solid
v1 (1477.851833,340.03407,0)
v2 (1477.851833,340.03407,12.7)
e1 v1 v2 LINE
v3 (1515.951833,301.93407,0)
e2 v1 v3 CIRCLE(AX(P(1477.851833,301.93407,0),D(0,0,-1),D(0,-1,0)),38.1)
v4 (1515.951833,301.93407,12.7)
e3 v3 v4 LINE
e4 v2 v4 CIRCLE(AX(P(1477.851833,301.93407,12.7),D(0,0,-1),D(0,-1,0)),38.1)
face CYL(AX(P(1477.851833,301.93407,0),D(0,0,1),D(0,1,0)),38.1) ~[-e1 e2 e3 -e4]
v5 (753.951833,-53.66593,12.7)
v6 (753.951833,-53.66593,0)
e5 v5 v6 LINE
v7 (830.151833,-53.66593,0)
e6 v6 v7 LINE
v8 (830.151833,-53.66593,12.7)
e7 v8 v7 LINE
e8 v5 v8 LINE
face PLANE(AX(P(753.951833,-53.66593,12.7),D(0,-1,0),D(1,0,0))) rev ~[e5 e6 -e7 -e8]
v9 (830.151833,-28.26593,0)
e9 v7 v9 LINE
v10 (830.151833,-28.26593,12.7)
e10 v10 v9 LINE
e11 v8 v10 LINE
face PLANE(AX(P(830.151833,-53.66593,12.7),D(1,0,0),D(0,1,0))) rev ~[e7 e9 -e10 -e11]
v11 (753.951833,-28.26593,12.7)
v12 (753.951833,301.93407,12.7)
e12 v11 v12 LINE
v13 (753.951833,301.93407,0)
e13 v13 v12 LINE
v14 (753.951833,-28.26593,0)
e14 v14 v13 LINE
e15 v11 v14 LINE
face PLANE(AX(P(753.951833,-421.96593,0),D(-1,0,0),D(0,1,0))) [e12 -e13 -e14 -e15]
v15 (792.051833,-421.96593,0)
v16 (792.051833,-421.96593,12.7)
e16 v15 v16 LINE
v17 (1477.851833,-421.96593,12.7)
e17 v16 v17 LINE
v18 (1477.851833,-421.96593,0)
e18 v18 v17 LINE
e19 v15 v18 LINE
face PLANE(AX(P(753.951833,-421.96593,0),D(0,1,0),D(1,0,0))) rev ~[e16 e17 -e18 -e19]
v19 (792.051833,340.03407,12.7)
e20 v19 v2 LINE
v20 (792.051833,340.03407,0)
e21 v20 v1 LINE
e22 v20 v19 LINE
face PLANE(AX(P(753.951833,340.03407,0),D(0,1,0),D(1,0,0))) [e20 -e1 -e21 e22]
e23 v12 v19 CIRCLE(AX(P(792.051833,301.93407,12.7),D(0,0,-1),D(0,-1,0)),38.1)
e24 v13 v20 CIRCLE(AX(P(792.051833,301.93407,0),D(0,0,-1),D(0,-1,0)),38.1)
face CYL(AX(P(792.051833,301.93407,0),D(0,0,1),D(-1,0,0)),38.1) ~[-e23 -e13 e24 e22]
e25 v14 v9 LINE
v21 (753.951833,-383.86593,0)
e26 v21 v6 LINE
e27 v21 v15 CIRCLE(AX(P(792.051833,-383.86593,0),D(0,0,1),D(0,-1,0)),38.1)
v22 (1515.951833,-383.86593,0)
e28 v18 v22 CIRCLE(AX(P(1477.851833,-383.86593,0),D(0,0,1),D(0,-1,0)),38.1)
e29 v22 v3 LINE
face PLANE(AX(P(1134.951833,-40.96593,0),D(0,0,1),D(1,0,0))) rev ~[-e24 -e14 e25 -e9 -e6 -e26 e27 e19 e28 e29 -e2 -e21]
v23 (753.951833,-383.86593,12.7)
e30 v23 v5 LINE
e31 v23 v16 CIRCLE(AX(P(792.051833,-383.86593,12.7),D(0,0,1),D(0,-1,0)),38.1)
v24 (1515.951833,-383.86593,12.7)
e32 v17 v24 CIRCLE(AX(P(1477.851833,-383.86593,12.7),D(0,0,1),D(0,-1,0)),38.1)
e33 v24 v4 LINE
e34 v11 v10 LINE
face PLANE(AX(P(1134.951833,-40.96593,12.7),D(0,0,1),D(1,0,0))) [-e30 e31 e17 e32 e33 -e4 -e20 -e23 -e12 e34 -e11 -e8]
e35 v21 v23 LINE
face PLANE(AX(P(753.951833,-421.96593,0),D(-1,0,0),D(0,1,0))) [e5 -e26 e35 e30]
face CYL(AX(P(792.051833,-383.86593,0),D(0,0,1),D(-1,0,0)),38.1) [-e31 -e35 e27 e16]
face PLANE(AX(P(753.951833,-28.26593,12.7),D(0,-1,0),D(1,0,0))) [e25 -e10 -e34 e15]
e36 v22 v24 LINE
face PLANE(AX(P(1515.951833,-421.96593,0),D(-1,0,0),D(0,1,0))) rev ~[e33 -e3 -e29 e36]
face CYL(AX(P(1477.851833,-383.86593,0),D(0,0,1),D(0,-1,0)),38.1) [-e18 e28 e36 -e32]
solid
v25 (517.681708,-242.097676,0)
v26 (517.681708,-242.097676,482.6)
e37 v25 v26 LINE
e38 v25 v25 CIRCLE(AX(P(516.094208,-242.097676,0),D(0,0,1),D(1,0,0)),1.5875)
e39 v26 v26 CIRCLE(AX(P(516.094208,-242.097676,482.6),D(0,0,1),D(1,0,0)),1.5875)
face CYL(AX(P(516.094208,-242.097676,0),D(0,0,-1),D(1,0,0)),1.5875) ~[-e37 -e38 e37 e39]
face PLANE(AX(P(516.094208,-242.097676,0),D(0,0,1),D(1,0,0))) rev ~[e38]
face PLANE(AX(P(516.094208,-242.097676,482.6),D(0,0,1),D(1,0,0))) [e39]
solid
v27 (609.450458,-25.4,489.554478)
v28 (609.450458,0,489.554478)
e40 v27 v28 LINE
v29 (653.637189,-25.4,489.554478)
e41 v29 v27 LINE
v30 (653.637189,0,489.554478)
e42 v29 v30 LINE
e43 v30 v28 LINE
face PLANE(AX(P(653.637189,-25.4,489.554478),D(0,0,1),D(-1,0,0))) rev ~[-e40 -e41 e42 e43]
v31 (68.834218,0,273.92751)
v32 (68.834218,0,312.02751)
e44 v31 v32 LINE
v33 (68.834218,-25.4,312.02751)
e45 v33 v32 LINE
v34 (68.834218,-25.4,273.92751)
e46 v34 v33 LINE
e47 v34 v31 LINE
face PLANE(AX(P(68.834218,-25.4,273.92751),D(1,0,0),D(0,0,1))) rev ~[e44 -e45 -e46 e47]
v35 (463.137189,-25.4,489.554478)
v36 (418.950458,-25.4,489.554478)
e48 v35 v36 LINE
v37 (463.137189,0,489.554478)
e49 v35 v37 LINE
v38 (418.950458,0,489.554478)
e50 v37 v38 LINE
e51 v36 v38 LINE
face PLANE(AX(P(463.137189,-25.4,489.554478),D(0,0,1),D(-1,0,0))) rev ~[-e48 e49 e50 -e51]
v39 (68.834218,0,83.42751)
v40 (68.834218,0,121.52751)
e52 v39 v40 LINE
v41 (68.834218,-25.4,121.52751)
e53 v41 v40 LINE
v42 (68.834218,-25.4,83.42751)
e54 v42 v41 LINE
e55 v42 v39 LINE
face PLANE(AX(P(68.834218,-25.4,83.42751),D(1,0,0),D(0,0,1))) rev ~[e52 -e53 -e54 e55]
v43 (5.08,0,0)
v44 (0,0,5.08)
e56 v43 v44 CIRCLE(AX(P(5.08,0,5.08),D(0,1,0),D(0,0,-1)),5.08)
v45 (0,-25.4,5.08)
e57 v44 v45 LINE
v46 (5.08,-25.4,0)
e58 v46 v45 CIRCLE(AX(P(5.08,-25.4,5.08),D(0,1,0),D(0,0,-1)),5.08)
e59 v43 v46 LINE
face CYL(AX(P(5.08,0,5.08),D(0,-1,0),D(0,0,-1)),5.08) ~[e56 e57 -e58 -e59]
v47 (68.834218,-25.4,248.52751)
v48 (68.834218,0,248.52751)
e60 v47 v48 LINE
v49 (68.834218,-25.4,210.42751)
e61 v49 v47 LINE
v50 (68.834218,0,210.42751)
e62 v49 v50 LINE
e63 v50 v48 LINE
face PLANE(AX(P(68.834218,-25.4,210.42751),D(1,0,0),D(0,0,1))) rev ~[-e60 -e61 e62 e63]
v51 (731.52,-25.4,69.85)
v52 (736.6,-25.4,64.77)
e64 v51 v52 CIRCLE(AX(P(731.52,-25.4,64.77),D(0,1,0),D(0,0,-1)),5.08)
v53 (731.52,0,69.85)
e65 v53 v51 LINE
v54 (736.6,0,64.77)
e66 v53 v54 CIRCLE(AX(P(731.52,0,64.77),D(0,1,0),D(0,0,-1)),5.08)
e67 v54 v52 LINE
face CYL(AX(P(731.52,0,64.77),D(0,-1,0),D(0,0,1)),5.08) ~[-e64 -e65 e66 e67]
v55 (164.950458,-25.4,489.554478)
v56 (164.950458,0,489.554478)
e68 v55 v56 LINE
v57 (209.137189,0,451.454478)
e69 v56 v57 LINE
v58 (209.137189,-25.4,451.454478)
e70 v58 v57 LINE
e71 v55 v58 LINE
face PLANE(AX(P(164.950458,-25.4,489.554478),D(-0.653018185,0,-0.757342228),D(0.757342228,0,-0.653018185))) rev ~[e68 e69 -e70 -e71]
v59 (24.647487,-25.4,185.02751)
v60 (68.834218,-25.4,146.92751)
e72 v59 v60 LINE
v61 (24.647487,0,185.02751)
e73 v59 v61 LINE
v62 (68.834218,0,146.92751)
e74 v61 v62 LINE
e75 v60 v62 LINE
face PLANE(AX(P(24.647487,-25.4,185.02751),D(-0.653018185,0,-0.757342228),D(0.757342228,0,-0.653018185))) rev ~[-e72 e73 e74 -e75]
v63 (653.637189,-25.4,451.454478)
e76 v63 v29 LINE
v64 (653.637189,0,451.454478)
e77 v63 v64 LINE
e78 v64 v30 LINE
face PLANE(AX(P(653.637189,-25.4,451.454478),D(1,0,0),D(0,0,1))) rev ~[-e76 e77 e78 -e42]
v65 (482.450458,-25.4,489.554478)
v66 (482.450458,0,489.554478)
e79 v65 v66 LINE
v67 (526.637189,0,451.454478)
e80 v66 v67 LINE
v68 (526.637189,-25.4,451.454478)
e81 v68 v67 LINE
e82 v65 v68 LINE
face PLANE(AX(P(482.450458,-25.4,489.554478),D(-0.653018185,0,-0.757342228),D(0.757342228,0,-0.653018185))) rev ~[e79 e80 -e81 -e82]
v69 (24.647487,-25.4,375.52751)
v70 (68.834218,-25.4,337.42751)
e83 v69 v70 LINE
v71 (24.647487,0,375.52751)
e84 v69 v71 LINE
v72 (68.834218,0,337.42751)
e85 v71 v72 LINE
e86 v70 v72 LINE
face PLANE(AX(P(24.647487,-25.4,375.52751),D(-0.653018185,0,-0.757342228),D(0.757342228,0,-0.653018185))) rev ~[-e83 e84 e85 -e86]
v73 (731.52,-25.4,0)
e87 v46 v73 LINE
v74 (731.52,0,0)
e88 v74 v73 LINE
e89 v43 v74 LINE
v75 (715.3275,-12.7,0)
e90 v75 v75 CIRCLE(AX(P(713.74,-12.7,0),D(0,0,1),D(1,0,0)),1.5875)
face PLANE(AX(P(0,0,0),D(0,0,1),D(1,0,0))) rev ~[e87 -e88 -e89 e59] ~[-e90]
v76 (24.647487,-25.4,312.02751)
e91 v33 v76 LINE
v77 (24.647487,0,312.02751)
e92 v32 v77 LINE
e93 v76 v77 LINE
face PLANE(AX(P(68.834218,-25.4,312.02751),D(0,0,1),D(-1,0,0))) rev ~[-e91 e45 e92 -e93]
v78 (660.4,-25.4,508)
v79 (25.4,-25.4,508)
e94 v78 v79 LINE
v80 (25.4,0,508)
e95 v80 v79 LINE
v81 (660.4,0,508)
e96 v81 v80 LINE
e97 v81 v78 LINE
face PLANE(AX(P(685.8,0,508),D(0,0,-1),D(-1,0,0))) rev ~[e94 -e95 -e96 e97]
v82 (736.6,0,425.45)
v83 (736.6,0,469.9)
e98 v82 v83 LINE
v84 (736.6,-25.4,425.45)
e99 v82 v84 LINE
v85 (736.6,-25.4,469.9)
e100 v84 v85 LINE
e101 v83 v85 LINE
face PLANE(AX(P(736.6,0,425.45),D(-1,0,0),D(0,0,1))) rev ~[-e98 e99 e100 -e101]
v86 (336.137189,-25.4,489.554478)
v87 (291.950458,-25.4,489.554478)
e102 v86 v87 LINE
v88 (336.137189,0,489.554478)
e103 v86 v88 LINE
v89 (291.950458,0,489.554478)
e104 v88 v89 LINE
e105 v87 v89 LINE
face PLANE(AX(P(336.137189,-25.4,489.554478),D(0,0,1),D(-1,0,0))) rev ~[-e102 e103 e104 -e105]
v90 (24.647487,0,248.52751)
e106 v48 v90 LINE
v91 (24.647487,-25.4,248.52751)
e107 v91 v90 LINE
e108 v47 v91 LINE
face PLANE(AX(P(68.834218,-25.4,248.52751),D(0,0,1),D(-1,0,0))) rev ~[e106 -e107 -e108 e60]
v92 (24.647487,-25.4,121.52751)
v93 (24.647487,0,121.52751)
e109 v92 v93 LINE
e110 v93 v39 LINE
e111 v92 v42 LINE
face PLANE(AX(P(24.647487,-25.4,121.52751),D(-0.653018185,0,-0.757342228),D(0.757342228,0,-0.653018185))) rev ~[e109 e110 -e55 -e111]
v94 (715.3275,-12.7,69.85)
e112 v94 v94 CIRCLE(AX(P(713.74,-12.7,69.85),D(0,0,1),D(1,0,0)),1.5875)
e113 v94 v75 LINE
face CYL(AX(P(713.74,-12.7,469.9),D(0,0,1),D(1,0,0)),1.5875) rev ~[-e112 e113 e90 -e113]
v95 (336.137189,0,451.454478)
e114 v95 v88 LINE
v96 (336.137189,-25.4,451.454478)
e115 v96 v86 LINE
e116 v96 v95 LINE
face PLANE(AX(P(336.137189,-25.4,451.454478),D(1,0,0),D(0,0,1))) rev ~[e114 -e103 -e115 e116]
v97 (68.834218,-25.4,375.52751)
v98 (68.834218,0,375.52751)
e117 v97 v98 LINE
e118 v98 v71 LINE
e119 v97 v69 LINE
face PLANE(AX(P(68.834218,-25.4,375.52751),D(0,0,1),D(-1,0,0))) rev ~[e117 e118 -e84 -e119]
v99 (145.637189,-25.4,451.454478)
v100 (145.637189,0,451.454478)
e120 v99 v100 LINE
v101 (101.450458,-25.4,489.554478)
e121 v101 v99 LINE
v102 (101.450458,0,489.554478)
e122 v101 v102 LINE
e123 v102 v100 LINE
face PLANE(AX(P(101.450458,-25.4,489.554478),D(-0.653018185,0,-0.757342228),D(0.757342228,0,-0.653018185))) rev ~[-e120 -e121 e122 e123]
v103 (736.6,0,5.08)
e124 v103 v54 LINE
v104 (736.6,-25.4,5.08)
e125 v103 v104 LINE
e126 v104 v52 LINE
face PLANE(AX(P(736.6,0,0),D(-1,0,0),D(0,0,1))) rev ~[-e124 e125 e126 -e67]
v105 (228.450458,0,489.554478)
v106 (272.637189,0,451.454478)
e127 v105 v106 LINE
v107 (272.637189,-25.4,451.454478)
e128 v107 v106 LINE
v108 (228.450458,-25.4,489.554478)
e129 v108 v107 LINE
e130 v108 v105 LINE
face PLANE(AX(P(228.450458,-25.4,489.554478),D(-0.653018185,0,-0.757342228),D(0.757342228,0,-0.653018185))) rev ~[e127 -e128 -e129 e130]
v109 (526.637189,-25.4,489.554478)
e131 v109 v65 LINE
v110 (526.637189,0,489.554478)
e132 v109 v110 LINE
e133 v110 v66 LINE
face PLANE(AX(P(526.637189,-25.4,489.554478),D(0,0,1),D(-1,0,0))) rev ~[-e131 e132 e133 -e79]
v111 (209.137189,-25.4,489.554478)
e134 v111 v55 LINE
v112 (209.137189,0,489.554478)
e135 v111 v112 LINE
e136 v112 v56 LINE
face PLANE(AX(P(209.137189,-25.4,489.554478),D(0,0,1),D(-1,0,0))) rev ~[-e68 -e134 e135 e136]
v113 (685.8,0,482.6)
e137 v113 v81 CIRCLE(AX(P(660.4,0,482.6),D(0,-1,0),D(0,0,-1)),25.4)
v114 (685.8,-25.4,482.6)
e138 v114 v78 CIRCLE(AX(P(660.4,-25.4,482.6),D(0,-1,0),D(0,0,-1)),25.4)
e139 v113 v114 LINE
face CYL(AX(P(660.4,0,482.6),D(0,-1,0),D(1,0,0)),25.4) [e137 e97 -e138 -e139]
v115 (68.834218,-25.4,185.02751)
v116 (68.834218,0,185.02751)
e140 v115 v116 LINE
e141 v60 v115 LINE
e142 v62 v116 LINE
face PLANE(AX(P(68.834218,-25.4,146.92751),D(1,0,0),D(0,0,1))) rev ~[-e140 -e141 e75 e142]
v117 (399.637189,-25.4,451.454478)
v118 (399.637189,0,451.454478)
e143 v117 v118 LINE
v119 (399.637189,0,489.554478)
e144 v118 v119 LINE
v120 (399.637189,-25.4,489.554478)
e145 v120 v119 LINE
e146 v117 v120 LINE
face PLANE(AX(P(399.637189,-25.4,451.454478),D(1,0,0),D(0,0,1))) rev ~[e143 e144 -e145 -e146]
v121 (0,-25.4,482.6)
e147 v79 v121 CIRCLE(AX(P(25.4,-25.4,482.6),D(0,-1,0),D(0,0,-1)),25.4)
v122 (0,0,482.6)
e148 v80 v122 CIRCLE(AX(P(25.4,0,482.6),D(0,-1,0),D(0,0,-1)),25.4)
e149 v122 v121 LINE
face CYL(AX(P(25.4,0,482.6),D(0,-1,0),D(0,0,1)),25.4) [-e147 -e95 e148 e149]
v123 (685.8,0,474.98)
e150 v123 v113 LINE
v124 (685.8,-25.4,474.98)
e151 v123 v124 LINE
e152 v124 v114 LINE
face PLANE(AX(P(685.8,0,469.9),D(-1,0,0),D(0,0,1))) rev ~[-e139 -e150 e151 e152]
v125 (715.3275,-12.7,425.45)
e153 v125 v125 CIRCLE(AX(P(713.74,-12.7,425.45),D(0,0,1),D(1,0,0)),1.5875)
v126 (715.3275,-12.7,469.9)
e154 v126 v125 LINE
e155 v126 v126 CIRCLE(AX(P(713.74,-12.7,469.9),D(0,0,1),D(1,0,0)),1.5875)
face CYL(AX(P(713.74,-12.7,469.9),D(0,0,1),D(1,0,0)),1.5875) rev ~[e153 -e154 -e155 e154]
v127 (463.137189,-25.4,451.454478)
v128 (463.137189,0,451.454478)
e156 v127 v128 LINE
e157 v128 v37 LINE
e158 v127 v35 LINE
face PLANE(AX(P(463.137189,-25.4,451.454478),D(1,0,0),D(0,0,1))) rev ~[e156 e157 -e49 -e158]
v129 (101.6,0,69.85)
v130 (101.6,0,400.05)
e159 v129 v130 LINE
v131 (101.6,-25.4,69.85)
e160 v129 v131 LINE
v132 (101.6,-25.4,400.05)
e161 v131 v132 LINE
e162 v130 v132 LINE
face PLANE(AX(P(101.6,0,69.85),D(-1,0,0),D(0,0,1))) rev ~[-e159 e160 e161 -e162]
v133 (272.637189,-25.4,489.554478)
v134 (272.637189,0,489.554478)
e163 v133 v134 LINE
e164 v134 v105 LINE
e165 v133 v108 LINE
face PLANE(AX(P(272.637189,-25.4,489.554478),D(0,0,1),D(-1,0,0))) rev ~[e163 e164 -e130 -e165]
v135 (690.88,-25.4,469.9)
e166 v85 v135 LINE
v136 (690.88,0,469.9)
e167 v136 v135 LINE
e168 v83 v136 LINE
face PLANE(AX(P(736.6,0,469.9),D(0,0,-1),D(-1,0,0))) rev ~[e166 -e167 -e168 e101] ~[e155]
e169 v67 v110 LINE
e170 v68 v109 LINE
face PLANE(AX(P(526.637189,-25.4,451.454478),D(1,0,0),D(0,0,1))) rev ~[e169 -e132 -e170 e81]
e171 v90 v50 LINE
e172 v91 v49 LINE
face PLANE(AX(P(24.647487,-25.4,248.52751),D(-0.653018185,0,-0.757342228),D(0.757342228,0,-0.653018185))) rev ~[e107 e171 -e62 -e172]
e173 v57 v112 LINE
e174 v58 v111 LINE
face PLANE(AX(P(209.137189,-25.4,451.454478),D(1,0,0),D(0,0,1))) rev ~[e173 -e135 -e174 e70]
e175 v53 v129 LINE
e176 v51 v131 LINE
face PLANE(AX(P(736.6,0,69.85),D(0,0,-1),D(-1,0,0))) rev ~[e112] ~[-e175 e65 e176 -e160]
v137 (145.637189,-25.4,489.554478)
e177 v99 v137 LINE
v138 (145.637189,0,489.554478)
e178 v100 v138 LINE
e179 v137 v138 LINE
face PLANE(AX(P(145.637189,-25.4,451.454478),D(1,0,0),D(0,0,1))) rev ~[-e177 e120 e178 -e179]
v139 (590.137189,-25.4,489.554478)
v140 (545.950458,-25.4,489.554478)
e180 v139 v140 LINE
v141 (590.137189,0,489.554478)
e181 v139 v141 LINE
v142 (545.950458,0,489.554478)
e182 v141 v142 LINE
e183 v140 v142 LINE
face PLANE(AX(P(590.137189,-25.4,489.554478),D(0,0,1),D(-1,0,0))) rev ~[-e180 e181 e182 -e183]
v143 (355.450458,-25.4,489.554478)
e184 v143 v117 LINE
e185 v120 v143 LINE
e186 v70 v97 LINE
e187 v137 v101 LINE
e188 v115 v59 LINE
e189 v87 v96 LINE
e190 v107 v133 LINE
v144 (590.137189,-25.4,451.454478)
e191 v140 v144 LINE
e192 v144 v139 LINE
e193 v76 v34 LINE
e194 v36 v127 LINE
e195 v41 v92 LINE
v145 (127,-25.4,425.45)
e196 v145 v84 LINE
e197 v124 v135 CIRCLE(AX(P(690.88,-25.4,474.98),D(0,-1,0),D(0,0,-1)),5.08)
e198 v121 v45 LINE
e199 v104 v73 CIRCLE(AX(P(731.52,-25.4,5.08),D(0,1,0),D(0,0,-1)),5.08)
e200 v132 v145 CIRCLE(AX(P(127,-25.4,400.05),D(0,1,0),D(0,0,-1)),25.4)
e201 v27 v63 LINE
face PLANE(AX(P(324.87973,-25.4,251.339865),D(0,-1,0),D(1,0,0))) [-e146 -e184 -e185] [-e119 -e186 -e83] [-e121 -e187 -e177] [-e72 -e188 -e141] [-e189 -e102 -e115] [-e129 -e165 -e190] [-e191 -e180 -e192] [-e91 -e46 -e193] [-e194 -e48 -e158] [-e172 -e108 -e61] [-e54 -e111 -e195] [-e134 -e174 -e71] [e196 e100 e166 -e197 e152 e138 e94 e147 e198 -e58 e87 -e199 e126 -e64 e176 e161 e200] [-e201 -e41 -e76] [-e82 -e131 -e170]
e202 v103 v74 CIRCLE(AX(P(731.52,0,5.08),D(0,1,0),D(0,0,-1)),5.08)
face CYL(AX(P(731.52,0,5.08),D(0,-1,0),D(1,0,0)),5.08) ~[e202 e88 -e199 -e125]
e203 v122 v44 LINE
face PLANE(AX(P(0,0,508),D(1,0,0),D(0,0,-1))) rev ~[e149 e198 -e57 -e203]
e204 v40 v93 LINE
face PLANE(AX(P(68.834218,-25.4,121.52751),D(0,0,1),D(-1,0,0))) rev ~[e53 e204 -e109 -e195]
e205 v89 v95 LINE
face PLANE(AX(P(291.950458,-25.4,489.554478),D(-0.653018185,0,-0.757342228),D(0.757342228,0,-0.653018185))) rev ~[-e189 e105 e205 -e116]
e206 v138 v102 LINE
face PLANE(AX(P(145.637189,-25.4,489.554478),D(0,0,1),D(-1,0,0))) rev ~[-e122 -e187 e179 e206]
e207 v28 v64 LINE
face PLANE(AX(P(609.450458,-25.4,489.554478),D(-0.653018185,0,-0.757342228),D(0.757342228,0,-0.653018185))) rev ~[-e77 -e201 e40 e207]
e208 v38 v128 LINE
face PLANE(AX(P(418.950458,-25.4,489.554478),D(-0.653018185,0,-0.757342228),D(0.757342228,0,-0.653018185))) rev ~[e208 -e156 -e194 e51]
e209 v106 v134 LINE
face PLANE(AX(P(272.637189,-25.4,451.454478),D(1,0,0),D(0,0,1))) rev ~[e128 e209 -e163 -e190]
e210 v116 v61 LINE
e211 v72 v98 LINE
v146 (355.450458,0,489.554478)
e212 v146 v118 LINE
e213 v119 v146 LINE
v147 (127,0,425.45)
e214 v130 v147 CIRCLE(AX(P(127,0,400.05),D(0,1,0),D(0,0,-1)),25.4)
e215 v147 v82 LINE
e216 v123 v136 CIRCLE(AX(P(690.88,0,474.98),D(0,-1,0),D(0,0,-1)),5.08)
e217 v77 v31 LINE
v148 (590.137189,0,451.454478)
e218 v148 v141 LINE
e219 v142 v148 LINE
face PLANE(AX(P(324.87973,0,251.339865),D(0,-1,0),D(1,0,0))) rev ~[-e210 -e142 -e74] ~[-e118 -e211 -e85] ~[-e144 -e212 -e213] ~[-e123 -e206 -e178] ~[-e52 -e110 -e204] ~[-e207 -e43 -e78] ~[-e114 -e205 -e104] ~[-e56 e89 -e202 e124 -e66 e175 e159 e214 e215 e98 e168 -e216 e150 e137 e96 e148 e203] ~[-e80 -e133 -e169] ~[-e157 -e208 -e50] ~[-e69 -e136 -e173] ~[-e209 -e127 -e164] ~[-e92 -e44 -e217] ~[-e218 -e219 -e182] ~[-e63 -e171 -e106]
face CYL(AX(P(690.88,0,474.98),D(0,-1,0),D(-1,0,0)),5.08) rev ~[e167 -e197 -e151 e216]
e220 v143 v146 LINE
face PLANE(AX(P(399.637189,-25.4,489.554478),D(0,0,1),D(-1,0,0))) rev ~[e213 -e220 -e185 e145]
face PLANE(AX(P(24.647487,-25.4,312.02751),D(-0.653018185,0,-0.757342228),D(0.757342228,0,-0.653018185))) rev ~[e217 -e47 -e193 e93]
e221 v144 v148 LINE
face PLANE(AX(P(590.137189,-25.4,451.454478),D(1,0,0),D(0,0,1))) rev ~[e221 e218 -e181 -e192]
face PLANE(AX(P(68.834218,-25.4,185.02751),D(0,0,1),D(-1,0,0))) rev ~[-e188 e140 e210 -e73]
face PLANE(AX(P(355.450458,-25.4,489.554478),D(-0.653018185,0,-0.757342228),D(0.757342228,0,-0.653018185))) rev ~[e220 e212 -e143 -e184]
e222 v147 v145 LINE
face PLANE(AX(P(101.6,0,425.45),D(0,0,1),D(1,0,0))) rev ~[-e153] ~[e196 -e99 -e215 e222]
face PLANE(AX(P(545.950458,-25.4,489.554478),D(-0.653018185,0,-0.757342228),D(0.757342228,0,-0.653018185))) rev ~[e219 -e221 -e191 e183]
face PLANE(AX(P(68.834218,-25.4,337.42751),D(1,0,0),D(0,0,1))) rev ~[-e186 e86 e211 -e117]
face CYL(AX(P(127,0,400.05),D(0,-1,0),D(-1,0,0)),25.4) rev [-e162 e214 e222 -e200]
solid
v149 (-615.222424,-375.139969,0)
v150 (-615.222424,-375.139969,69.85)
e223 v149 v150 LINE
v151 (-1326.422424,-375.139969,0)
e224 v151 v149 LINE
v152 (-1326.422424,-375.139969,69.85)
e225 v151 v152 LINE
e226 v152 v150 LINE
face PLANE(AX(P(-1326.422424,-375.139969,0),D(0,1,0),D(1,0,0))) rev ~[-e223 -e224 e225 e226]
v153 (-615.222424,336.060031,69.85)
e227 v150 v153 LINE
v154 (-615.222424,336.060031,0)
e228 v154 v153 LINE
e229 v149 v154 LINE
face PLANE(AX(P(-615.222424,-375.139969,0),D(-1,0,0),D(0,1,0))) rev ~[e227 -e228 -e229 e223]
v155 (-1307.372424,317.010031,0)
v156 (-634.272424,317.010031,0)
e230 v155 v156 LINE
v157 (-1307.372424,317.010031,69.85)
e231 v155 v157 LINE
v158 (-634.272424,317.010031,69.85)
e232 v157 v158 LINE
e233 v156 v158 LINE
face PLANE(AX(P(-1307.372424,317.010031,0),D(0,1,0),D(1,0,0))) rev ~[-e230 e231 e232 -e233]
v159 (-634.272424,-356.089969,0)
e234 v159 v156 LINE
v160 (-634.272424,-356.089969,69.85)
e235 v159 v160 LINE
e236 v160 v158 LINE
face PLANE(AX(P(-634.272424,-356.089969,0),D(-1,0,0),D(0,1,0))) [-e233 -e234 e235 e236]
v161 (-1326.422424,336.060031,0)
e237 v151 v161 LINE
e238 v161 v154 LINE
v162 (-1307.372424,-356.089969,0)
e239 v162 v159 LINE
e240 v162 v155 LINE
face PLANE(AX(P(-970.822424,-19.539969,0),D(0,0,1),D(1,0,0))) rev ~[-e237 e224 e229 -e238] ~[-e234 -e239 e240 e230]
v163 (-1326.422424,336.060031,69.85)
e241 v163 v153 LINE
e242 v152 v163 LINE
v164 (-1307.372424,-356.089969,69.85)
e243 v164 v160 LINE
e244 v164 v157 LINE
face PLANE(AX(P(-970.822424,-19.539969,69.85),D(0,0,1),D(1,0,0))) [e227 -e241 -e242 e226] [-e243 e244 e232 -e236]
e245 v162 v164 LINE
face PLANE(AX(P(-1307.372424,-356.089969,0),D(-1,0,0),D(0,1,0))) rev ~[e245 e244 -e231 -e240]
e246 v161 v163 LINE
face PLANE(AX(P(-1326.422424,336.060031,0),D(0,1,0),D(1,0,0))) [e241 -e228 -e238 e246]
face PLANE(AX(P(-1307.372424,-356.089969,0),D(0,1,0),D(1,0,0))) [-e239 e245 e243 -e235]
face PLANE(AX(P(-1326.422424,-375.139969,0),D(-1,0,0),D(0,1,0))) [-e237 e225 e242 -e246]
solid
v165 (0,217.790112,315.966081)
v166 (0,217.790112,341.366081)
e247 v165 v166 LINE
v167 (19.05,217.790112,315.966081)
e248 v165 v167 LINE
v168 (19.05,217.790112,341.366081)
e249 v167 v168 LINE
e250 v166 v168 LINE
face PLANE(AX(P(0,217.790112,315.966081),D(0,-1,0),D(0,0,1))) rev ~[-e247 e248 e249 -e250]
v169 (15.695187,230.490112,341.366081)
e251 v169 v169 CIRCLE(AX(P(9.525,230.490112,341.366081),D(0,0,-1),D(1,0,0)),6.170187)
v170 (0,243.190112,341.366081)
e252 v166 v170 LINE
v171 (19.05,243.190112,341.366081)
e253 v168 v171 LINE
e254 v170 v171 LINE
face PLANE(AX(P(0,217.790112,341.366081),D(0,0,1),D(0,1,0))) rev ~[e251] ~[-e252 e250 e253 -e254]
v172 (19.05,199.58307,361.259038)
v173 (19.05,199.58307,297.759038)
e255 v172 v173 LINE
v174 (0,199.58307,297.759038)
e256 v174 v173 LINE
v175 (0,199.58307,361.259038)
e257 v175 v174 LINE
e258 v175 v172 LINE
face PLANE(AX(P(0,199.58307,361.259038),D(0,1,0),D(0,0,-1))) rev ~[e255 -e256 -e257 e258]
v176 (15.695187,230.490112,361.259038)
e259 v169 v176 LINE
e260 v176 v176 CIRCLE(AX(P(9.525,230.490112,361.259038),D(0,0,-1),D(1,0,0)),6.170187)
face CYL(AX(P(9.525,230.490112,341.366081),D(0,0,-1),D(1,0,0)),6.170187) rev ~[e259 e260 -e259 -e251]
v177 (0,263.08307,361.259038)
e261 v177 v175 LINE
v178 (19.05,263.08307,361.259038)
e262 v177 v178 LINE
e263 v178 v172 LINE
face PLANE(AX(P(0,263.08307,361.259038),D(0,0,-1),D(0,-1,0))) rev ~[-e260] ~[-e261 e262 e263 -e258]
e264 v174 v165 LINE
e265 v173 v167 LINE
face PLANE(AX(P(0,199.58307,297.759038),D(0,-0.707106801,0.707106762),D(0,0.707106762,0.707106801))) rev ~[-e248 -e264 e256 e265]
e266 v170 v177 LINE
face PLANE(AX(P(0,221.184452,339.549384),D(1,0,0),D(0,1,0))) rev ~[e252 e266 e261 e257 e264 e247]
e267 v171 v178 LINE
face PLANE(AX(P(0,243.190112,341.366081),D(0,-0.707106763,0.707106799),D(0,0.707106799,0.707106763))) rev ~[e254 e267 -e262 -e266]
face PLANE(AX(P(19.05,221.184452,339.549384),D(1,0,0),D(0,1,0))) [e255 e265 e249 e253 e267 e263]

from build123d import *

# Parameters (mm, degrees)
F1_DEPTH  = 25.4
F2_R      = 25.4
F3_R      = 5.08
F4_R      = 25.4
F5_R      = 25.4
F6_R      = 5.08
F7_R      = 5.08
F9_DEPTH  = 25.401
F10_W     = 762
F10_H     = 762
F11_DEPTH = 12.7
F12_W     = 711.2
F12_H     = 711.2
F12_W_2   = 673.1
F12_H_2   = 673.1
F13_DEPTH = 69.85
F14_W     = 76.2
F14_H     = 25.4
F15_DEPTH = 25.4
F16_R     = 1.5875
F17_DEPTH = 469.901
F18_R     = 1.5875
F19_DEPTH = 482.6
F20_R     = 38.1
F22_DEPTH = 19.05
F23_R     = 6.170187
F24_DEPTH = 25.4


with BuildPart() as f1:
    # F0 (on Front) → F1 (new body)
    with BuildSketch(Plane.XZ):
        Polygon((0, 508), (0, 0), (736.6, 0), (736.6, 69.85), (101.6, 69.85), (101.6, 425.45), (736.6, 425.45), (736.6, 469.9), (685.8, 469.9), (685.8, 508), align=None)
    extrude(amount=F1_DEPTH)

    # F2
    f2_edges = [f1.edges().sort_by_distance(p)[0] for p in [
        (685.8, -12.7, 508),
    ]]
    fillet(f2_edges, radius=F2_R)

    # F3
    f3_edges = [f1.edges().sort_by_distance(p)[0] for p in [
        (685.8, -12.7, 469.9),
    ]]
    fillet(f3_edges, radius=F3_R)

    # F4
    f4_edges = [f1.edges().sort_by_distance(p)[0] for p in [
        (0, -12.7, 508),
    ]]
    fillet(f4_edges, radius=F4_R)

    # F5
    f5_edges = [f1.edges().sort_by_distance(p)[0] for p in [
        (101.6, -12.7, 425.45),
    ]]
    fillet(f5_edges, radius=F5_R)

    # F6
    f6_edges = [f1.edges().sort_by_distance(p)[0] for p in [
        (736.6, -12.7, 0),
        (736.6, -12.7, 69.85),
    ]]
    fillet(f6_edges, radius=F6_R)

    # F7
    f7_edges = [f1.edges().sort_by_distance(p)[0] for p in [
        (0, -12.7, 0),
    ]]
    fillet(f7_edges, radius=F7_R)

    # F8 (on face) → F9 (cut, through all)
    with BuildSketch(Plane.XZ.offset(25.4)):
        Polygon((145.637189, 451.454478), (145.637189, 489.554478), (101.450458, 489.554478), align=None)
        Polygon((209.137189, 451.454478), (209.137189, 489.554478), (164.950458, 489.554478), align=None)
        Polygon((272.637189, 451.454478), (272.637189, 489.554478), (228.450458, 489.554478), align=None)
        Polygon((336.137189, 451.454478), (336.137189, 489.554478), (291.950458, 489.554478), align=None)
        Polygon((399.637189, 451.454478), (399.637189, 489.554478), (355.450458, 489.554478), align=None)
        Polygon((463.137189, 451.454478), (463.137189, 489.554478), (418.950458, 489.554478), align=None)
        Polygon((526.637189, 451.454478), (526.637189, 489.554478), (482.450458, 489.554478), align=None)
        Polygon((653.637189, 451.454478), (653.637189, 489.554478), (609.450458, 489.554478), align=None)
        Polygon((590.137189, 451.454478), (590.137189, 489.554478), (545.950458, 489.554478), align=None)
        Polygon((68.834218, 337.42751), (68.834218, 375.52751), (24.647487, 375.52751), align=None)
        Polygon((24.647487, 312.02751), (68.834218, 273.92751), (68.834218, 312.02751), align=None)
        Polygon((24.647487, 248.52751), (68.834218, 210.42751), (68.834218, 248.52751), align=None)
        Polygon((24.647487, 185.02751), (68.834218, 146.92751), (68.834218, 185.02751), align=None)
        Polygon((24.647487, 121.52751), (68.834218, 83.42751), (68.834218, 121.52751), align=None)
    extrude(amount=-F9_DEPTH, mode=Mode.SUBTRACT)

    # F16 (on face) → F17 (cut, through all)
    with BuildSketch(Plane.XY.offset(469.9)):
        with Locations((713.74, -12.7)):
            Circle(F16_R)
    extrude(amount=-F17_DEPTH, mode=Mode.SUBTRACT)


with BuildPart() as f11:
    # F10 (on Top) → F11 (new body)
    with BuildSketch(Plane.XY):
        with Locations((1134.951833, -40.96593)):
            Rectangle(F10_W, F10_H)
    extrude(amount=F11_DEPTH)

    # F14 (on face) → F15 (cut)
    with BuildSketch(Plane.XY.offset(12.7)):
        with Locations((792.051833, -40.96593)):
            Rectangle(F14_W, F14_H)
    extrude(amount=-F15_DEPTH, mode=Mode.SUBTRACT)

    # F20
    f20_edges = [f11.edges().sort_by_distance(p)[0] for p in [
        (1515.951833, -421.96593, 6.35),
        (753.951833, -421.96593, 6.35),
        (1515.951833, 340.03407, 6.35),
        (753.951833, 340.03407, 6.35),
    ]]
    fillet(f20_edges, radius=F20_R)


with BuildPart() as f13:
    # F12 (on Top) → F13 (new body)
    with BuildSketch(Plane.XY):
        with Locations((-970.822424, -19.539969)):
            Rectangle(F12_W, F12_H)
        with Locations((-970.822424, -19.539969)):
            Rectangle(F12_W_2, F12_H_2, mode=Mode.SUBTRACT)
    extrude(amount=F13_DEPTH)


with BuildPart() as f19:
    # F18 (on Top) → F19 (new body)
    with BuildSketch(Plane.XY):
        with Locations((516.094208, -242.097676)):
            Circle(F18_R)
    extrude(amount=F19_DEPTH)


with BuildPart() as f22:
    # F21 (on Right) → F22 (new body)
    with BuildSketch(Plane.YZ):
        Polygon((243.190112, 341.366081), (263.08307, 361.259038), (199.58307, 361.259038), (199.58307, 297.759038), (217.790112, 315.966081), (217.790112, 341.366081), align=None)
    extrude(amount=F22_DEPTH)

    # F23 (on face) → F24 (cut)
    with BuildSketch(Plane(origin=(0, 0, 341.366081), x_dir=(1, 0, 0), z_dir=(0, 0, -1))):
        with Locations((9.525, -230.490112)):
            Circle(F23_R)
    extrude(amount=-F24_DEPTH, mode=Mode.SUBTRACT)


solid = Compound([f1.part, f11.part, f13.part, f19.part, f22.part])
